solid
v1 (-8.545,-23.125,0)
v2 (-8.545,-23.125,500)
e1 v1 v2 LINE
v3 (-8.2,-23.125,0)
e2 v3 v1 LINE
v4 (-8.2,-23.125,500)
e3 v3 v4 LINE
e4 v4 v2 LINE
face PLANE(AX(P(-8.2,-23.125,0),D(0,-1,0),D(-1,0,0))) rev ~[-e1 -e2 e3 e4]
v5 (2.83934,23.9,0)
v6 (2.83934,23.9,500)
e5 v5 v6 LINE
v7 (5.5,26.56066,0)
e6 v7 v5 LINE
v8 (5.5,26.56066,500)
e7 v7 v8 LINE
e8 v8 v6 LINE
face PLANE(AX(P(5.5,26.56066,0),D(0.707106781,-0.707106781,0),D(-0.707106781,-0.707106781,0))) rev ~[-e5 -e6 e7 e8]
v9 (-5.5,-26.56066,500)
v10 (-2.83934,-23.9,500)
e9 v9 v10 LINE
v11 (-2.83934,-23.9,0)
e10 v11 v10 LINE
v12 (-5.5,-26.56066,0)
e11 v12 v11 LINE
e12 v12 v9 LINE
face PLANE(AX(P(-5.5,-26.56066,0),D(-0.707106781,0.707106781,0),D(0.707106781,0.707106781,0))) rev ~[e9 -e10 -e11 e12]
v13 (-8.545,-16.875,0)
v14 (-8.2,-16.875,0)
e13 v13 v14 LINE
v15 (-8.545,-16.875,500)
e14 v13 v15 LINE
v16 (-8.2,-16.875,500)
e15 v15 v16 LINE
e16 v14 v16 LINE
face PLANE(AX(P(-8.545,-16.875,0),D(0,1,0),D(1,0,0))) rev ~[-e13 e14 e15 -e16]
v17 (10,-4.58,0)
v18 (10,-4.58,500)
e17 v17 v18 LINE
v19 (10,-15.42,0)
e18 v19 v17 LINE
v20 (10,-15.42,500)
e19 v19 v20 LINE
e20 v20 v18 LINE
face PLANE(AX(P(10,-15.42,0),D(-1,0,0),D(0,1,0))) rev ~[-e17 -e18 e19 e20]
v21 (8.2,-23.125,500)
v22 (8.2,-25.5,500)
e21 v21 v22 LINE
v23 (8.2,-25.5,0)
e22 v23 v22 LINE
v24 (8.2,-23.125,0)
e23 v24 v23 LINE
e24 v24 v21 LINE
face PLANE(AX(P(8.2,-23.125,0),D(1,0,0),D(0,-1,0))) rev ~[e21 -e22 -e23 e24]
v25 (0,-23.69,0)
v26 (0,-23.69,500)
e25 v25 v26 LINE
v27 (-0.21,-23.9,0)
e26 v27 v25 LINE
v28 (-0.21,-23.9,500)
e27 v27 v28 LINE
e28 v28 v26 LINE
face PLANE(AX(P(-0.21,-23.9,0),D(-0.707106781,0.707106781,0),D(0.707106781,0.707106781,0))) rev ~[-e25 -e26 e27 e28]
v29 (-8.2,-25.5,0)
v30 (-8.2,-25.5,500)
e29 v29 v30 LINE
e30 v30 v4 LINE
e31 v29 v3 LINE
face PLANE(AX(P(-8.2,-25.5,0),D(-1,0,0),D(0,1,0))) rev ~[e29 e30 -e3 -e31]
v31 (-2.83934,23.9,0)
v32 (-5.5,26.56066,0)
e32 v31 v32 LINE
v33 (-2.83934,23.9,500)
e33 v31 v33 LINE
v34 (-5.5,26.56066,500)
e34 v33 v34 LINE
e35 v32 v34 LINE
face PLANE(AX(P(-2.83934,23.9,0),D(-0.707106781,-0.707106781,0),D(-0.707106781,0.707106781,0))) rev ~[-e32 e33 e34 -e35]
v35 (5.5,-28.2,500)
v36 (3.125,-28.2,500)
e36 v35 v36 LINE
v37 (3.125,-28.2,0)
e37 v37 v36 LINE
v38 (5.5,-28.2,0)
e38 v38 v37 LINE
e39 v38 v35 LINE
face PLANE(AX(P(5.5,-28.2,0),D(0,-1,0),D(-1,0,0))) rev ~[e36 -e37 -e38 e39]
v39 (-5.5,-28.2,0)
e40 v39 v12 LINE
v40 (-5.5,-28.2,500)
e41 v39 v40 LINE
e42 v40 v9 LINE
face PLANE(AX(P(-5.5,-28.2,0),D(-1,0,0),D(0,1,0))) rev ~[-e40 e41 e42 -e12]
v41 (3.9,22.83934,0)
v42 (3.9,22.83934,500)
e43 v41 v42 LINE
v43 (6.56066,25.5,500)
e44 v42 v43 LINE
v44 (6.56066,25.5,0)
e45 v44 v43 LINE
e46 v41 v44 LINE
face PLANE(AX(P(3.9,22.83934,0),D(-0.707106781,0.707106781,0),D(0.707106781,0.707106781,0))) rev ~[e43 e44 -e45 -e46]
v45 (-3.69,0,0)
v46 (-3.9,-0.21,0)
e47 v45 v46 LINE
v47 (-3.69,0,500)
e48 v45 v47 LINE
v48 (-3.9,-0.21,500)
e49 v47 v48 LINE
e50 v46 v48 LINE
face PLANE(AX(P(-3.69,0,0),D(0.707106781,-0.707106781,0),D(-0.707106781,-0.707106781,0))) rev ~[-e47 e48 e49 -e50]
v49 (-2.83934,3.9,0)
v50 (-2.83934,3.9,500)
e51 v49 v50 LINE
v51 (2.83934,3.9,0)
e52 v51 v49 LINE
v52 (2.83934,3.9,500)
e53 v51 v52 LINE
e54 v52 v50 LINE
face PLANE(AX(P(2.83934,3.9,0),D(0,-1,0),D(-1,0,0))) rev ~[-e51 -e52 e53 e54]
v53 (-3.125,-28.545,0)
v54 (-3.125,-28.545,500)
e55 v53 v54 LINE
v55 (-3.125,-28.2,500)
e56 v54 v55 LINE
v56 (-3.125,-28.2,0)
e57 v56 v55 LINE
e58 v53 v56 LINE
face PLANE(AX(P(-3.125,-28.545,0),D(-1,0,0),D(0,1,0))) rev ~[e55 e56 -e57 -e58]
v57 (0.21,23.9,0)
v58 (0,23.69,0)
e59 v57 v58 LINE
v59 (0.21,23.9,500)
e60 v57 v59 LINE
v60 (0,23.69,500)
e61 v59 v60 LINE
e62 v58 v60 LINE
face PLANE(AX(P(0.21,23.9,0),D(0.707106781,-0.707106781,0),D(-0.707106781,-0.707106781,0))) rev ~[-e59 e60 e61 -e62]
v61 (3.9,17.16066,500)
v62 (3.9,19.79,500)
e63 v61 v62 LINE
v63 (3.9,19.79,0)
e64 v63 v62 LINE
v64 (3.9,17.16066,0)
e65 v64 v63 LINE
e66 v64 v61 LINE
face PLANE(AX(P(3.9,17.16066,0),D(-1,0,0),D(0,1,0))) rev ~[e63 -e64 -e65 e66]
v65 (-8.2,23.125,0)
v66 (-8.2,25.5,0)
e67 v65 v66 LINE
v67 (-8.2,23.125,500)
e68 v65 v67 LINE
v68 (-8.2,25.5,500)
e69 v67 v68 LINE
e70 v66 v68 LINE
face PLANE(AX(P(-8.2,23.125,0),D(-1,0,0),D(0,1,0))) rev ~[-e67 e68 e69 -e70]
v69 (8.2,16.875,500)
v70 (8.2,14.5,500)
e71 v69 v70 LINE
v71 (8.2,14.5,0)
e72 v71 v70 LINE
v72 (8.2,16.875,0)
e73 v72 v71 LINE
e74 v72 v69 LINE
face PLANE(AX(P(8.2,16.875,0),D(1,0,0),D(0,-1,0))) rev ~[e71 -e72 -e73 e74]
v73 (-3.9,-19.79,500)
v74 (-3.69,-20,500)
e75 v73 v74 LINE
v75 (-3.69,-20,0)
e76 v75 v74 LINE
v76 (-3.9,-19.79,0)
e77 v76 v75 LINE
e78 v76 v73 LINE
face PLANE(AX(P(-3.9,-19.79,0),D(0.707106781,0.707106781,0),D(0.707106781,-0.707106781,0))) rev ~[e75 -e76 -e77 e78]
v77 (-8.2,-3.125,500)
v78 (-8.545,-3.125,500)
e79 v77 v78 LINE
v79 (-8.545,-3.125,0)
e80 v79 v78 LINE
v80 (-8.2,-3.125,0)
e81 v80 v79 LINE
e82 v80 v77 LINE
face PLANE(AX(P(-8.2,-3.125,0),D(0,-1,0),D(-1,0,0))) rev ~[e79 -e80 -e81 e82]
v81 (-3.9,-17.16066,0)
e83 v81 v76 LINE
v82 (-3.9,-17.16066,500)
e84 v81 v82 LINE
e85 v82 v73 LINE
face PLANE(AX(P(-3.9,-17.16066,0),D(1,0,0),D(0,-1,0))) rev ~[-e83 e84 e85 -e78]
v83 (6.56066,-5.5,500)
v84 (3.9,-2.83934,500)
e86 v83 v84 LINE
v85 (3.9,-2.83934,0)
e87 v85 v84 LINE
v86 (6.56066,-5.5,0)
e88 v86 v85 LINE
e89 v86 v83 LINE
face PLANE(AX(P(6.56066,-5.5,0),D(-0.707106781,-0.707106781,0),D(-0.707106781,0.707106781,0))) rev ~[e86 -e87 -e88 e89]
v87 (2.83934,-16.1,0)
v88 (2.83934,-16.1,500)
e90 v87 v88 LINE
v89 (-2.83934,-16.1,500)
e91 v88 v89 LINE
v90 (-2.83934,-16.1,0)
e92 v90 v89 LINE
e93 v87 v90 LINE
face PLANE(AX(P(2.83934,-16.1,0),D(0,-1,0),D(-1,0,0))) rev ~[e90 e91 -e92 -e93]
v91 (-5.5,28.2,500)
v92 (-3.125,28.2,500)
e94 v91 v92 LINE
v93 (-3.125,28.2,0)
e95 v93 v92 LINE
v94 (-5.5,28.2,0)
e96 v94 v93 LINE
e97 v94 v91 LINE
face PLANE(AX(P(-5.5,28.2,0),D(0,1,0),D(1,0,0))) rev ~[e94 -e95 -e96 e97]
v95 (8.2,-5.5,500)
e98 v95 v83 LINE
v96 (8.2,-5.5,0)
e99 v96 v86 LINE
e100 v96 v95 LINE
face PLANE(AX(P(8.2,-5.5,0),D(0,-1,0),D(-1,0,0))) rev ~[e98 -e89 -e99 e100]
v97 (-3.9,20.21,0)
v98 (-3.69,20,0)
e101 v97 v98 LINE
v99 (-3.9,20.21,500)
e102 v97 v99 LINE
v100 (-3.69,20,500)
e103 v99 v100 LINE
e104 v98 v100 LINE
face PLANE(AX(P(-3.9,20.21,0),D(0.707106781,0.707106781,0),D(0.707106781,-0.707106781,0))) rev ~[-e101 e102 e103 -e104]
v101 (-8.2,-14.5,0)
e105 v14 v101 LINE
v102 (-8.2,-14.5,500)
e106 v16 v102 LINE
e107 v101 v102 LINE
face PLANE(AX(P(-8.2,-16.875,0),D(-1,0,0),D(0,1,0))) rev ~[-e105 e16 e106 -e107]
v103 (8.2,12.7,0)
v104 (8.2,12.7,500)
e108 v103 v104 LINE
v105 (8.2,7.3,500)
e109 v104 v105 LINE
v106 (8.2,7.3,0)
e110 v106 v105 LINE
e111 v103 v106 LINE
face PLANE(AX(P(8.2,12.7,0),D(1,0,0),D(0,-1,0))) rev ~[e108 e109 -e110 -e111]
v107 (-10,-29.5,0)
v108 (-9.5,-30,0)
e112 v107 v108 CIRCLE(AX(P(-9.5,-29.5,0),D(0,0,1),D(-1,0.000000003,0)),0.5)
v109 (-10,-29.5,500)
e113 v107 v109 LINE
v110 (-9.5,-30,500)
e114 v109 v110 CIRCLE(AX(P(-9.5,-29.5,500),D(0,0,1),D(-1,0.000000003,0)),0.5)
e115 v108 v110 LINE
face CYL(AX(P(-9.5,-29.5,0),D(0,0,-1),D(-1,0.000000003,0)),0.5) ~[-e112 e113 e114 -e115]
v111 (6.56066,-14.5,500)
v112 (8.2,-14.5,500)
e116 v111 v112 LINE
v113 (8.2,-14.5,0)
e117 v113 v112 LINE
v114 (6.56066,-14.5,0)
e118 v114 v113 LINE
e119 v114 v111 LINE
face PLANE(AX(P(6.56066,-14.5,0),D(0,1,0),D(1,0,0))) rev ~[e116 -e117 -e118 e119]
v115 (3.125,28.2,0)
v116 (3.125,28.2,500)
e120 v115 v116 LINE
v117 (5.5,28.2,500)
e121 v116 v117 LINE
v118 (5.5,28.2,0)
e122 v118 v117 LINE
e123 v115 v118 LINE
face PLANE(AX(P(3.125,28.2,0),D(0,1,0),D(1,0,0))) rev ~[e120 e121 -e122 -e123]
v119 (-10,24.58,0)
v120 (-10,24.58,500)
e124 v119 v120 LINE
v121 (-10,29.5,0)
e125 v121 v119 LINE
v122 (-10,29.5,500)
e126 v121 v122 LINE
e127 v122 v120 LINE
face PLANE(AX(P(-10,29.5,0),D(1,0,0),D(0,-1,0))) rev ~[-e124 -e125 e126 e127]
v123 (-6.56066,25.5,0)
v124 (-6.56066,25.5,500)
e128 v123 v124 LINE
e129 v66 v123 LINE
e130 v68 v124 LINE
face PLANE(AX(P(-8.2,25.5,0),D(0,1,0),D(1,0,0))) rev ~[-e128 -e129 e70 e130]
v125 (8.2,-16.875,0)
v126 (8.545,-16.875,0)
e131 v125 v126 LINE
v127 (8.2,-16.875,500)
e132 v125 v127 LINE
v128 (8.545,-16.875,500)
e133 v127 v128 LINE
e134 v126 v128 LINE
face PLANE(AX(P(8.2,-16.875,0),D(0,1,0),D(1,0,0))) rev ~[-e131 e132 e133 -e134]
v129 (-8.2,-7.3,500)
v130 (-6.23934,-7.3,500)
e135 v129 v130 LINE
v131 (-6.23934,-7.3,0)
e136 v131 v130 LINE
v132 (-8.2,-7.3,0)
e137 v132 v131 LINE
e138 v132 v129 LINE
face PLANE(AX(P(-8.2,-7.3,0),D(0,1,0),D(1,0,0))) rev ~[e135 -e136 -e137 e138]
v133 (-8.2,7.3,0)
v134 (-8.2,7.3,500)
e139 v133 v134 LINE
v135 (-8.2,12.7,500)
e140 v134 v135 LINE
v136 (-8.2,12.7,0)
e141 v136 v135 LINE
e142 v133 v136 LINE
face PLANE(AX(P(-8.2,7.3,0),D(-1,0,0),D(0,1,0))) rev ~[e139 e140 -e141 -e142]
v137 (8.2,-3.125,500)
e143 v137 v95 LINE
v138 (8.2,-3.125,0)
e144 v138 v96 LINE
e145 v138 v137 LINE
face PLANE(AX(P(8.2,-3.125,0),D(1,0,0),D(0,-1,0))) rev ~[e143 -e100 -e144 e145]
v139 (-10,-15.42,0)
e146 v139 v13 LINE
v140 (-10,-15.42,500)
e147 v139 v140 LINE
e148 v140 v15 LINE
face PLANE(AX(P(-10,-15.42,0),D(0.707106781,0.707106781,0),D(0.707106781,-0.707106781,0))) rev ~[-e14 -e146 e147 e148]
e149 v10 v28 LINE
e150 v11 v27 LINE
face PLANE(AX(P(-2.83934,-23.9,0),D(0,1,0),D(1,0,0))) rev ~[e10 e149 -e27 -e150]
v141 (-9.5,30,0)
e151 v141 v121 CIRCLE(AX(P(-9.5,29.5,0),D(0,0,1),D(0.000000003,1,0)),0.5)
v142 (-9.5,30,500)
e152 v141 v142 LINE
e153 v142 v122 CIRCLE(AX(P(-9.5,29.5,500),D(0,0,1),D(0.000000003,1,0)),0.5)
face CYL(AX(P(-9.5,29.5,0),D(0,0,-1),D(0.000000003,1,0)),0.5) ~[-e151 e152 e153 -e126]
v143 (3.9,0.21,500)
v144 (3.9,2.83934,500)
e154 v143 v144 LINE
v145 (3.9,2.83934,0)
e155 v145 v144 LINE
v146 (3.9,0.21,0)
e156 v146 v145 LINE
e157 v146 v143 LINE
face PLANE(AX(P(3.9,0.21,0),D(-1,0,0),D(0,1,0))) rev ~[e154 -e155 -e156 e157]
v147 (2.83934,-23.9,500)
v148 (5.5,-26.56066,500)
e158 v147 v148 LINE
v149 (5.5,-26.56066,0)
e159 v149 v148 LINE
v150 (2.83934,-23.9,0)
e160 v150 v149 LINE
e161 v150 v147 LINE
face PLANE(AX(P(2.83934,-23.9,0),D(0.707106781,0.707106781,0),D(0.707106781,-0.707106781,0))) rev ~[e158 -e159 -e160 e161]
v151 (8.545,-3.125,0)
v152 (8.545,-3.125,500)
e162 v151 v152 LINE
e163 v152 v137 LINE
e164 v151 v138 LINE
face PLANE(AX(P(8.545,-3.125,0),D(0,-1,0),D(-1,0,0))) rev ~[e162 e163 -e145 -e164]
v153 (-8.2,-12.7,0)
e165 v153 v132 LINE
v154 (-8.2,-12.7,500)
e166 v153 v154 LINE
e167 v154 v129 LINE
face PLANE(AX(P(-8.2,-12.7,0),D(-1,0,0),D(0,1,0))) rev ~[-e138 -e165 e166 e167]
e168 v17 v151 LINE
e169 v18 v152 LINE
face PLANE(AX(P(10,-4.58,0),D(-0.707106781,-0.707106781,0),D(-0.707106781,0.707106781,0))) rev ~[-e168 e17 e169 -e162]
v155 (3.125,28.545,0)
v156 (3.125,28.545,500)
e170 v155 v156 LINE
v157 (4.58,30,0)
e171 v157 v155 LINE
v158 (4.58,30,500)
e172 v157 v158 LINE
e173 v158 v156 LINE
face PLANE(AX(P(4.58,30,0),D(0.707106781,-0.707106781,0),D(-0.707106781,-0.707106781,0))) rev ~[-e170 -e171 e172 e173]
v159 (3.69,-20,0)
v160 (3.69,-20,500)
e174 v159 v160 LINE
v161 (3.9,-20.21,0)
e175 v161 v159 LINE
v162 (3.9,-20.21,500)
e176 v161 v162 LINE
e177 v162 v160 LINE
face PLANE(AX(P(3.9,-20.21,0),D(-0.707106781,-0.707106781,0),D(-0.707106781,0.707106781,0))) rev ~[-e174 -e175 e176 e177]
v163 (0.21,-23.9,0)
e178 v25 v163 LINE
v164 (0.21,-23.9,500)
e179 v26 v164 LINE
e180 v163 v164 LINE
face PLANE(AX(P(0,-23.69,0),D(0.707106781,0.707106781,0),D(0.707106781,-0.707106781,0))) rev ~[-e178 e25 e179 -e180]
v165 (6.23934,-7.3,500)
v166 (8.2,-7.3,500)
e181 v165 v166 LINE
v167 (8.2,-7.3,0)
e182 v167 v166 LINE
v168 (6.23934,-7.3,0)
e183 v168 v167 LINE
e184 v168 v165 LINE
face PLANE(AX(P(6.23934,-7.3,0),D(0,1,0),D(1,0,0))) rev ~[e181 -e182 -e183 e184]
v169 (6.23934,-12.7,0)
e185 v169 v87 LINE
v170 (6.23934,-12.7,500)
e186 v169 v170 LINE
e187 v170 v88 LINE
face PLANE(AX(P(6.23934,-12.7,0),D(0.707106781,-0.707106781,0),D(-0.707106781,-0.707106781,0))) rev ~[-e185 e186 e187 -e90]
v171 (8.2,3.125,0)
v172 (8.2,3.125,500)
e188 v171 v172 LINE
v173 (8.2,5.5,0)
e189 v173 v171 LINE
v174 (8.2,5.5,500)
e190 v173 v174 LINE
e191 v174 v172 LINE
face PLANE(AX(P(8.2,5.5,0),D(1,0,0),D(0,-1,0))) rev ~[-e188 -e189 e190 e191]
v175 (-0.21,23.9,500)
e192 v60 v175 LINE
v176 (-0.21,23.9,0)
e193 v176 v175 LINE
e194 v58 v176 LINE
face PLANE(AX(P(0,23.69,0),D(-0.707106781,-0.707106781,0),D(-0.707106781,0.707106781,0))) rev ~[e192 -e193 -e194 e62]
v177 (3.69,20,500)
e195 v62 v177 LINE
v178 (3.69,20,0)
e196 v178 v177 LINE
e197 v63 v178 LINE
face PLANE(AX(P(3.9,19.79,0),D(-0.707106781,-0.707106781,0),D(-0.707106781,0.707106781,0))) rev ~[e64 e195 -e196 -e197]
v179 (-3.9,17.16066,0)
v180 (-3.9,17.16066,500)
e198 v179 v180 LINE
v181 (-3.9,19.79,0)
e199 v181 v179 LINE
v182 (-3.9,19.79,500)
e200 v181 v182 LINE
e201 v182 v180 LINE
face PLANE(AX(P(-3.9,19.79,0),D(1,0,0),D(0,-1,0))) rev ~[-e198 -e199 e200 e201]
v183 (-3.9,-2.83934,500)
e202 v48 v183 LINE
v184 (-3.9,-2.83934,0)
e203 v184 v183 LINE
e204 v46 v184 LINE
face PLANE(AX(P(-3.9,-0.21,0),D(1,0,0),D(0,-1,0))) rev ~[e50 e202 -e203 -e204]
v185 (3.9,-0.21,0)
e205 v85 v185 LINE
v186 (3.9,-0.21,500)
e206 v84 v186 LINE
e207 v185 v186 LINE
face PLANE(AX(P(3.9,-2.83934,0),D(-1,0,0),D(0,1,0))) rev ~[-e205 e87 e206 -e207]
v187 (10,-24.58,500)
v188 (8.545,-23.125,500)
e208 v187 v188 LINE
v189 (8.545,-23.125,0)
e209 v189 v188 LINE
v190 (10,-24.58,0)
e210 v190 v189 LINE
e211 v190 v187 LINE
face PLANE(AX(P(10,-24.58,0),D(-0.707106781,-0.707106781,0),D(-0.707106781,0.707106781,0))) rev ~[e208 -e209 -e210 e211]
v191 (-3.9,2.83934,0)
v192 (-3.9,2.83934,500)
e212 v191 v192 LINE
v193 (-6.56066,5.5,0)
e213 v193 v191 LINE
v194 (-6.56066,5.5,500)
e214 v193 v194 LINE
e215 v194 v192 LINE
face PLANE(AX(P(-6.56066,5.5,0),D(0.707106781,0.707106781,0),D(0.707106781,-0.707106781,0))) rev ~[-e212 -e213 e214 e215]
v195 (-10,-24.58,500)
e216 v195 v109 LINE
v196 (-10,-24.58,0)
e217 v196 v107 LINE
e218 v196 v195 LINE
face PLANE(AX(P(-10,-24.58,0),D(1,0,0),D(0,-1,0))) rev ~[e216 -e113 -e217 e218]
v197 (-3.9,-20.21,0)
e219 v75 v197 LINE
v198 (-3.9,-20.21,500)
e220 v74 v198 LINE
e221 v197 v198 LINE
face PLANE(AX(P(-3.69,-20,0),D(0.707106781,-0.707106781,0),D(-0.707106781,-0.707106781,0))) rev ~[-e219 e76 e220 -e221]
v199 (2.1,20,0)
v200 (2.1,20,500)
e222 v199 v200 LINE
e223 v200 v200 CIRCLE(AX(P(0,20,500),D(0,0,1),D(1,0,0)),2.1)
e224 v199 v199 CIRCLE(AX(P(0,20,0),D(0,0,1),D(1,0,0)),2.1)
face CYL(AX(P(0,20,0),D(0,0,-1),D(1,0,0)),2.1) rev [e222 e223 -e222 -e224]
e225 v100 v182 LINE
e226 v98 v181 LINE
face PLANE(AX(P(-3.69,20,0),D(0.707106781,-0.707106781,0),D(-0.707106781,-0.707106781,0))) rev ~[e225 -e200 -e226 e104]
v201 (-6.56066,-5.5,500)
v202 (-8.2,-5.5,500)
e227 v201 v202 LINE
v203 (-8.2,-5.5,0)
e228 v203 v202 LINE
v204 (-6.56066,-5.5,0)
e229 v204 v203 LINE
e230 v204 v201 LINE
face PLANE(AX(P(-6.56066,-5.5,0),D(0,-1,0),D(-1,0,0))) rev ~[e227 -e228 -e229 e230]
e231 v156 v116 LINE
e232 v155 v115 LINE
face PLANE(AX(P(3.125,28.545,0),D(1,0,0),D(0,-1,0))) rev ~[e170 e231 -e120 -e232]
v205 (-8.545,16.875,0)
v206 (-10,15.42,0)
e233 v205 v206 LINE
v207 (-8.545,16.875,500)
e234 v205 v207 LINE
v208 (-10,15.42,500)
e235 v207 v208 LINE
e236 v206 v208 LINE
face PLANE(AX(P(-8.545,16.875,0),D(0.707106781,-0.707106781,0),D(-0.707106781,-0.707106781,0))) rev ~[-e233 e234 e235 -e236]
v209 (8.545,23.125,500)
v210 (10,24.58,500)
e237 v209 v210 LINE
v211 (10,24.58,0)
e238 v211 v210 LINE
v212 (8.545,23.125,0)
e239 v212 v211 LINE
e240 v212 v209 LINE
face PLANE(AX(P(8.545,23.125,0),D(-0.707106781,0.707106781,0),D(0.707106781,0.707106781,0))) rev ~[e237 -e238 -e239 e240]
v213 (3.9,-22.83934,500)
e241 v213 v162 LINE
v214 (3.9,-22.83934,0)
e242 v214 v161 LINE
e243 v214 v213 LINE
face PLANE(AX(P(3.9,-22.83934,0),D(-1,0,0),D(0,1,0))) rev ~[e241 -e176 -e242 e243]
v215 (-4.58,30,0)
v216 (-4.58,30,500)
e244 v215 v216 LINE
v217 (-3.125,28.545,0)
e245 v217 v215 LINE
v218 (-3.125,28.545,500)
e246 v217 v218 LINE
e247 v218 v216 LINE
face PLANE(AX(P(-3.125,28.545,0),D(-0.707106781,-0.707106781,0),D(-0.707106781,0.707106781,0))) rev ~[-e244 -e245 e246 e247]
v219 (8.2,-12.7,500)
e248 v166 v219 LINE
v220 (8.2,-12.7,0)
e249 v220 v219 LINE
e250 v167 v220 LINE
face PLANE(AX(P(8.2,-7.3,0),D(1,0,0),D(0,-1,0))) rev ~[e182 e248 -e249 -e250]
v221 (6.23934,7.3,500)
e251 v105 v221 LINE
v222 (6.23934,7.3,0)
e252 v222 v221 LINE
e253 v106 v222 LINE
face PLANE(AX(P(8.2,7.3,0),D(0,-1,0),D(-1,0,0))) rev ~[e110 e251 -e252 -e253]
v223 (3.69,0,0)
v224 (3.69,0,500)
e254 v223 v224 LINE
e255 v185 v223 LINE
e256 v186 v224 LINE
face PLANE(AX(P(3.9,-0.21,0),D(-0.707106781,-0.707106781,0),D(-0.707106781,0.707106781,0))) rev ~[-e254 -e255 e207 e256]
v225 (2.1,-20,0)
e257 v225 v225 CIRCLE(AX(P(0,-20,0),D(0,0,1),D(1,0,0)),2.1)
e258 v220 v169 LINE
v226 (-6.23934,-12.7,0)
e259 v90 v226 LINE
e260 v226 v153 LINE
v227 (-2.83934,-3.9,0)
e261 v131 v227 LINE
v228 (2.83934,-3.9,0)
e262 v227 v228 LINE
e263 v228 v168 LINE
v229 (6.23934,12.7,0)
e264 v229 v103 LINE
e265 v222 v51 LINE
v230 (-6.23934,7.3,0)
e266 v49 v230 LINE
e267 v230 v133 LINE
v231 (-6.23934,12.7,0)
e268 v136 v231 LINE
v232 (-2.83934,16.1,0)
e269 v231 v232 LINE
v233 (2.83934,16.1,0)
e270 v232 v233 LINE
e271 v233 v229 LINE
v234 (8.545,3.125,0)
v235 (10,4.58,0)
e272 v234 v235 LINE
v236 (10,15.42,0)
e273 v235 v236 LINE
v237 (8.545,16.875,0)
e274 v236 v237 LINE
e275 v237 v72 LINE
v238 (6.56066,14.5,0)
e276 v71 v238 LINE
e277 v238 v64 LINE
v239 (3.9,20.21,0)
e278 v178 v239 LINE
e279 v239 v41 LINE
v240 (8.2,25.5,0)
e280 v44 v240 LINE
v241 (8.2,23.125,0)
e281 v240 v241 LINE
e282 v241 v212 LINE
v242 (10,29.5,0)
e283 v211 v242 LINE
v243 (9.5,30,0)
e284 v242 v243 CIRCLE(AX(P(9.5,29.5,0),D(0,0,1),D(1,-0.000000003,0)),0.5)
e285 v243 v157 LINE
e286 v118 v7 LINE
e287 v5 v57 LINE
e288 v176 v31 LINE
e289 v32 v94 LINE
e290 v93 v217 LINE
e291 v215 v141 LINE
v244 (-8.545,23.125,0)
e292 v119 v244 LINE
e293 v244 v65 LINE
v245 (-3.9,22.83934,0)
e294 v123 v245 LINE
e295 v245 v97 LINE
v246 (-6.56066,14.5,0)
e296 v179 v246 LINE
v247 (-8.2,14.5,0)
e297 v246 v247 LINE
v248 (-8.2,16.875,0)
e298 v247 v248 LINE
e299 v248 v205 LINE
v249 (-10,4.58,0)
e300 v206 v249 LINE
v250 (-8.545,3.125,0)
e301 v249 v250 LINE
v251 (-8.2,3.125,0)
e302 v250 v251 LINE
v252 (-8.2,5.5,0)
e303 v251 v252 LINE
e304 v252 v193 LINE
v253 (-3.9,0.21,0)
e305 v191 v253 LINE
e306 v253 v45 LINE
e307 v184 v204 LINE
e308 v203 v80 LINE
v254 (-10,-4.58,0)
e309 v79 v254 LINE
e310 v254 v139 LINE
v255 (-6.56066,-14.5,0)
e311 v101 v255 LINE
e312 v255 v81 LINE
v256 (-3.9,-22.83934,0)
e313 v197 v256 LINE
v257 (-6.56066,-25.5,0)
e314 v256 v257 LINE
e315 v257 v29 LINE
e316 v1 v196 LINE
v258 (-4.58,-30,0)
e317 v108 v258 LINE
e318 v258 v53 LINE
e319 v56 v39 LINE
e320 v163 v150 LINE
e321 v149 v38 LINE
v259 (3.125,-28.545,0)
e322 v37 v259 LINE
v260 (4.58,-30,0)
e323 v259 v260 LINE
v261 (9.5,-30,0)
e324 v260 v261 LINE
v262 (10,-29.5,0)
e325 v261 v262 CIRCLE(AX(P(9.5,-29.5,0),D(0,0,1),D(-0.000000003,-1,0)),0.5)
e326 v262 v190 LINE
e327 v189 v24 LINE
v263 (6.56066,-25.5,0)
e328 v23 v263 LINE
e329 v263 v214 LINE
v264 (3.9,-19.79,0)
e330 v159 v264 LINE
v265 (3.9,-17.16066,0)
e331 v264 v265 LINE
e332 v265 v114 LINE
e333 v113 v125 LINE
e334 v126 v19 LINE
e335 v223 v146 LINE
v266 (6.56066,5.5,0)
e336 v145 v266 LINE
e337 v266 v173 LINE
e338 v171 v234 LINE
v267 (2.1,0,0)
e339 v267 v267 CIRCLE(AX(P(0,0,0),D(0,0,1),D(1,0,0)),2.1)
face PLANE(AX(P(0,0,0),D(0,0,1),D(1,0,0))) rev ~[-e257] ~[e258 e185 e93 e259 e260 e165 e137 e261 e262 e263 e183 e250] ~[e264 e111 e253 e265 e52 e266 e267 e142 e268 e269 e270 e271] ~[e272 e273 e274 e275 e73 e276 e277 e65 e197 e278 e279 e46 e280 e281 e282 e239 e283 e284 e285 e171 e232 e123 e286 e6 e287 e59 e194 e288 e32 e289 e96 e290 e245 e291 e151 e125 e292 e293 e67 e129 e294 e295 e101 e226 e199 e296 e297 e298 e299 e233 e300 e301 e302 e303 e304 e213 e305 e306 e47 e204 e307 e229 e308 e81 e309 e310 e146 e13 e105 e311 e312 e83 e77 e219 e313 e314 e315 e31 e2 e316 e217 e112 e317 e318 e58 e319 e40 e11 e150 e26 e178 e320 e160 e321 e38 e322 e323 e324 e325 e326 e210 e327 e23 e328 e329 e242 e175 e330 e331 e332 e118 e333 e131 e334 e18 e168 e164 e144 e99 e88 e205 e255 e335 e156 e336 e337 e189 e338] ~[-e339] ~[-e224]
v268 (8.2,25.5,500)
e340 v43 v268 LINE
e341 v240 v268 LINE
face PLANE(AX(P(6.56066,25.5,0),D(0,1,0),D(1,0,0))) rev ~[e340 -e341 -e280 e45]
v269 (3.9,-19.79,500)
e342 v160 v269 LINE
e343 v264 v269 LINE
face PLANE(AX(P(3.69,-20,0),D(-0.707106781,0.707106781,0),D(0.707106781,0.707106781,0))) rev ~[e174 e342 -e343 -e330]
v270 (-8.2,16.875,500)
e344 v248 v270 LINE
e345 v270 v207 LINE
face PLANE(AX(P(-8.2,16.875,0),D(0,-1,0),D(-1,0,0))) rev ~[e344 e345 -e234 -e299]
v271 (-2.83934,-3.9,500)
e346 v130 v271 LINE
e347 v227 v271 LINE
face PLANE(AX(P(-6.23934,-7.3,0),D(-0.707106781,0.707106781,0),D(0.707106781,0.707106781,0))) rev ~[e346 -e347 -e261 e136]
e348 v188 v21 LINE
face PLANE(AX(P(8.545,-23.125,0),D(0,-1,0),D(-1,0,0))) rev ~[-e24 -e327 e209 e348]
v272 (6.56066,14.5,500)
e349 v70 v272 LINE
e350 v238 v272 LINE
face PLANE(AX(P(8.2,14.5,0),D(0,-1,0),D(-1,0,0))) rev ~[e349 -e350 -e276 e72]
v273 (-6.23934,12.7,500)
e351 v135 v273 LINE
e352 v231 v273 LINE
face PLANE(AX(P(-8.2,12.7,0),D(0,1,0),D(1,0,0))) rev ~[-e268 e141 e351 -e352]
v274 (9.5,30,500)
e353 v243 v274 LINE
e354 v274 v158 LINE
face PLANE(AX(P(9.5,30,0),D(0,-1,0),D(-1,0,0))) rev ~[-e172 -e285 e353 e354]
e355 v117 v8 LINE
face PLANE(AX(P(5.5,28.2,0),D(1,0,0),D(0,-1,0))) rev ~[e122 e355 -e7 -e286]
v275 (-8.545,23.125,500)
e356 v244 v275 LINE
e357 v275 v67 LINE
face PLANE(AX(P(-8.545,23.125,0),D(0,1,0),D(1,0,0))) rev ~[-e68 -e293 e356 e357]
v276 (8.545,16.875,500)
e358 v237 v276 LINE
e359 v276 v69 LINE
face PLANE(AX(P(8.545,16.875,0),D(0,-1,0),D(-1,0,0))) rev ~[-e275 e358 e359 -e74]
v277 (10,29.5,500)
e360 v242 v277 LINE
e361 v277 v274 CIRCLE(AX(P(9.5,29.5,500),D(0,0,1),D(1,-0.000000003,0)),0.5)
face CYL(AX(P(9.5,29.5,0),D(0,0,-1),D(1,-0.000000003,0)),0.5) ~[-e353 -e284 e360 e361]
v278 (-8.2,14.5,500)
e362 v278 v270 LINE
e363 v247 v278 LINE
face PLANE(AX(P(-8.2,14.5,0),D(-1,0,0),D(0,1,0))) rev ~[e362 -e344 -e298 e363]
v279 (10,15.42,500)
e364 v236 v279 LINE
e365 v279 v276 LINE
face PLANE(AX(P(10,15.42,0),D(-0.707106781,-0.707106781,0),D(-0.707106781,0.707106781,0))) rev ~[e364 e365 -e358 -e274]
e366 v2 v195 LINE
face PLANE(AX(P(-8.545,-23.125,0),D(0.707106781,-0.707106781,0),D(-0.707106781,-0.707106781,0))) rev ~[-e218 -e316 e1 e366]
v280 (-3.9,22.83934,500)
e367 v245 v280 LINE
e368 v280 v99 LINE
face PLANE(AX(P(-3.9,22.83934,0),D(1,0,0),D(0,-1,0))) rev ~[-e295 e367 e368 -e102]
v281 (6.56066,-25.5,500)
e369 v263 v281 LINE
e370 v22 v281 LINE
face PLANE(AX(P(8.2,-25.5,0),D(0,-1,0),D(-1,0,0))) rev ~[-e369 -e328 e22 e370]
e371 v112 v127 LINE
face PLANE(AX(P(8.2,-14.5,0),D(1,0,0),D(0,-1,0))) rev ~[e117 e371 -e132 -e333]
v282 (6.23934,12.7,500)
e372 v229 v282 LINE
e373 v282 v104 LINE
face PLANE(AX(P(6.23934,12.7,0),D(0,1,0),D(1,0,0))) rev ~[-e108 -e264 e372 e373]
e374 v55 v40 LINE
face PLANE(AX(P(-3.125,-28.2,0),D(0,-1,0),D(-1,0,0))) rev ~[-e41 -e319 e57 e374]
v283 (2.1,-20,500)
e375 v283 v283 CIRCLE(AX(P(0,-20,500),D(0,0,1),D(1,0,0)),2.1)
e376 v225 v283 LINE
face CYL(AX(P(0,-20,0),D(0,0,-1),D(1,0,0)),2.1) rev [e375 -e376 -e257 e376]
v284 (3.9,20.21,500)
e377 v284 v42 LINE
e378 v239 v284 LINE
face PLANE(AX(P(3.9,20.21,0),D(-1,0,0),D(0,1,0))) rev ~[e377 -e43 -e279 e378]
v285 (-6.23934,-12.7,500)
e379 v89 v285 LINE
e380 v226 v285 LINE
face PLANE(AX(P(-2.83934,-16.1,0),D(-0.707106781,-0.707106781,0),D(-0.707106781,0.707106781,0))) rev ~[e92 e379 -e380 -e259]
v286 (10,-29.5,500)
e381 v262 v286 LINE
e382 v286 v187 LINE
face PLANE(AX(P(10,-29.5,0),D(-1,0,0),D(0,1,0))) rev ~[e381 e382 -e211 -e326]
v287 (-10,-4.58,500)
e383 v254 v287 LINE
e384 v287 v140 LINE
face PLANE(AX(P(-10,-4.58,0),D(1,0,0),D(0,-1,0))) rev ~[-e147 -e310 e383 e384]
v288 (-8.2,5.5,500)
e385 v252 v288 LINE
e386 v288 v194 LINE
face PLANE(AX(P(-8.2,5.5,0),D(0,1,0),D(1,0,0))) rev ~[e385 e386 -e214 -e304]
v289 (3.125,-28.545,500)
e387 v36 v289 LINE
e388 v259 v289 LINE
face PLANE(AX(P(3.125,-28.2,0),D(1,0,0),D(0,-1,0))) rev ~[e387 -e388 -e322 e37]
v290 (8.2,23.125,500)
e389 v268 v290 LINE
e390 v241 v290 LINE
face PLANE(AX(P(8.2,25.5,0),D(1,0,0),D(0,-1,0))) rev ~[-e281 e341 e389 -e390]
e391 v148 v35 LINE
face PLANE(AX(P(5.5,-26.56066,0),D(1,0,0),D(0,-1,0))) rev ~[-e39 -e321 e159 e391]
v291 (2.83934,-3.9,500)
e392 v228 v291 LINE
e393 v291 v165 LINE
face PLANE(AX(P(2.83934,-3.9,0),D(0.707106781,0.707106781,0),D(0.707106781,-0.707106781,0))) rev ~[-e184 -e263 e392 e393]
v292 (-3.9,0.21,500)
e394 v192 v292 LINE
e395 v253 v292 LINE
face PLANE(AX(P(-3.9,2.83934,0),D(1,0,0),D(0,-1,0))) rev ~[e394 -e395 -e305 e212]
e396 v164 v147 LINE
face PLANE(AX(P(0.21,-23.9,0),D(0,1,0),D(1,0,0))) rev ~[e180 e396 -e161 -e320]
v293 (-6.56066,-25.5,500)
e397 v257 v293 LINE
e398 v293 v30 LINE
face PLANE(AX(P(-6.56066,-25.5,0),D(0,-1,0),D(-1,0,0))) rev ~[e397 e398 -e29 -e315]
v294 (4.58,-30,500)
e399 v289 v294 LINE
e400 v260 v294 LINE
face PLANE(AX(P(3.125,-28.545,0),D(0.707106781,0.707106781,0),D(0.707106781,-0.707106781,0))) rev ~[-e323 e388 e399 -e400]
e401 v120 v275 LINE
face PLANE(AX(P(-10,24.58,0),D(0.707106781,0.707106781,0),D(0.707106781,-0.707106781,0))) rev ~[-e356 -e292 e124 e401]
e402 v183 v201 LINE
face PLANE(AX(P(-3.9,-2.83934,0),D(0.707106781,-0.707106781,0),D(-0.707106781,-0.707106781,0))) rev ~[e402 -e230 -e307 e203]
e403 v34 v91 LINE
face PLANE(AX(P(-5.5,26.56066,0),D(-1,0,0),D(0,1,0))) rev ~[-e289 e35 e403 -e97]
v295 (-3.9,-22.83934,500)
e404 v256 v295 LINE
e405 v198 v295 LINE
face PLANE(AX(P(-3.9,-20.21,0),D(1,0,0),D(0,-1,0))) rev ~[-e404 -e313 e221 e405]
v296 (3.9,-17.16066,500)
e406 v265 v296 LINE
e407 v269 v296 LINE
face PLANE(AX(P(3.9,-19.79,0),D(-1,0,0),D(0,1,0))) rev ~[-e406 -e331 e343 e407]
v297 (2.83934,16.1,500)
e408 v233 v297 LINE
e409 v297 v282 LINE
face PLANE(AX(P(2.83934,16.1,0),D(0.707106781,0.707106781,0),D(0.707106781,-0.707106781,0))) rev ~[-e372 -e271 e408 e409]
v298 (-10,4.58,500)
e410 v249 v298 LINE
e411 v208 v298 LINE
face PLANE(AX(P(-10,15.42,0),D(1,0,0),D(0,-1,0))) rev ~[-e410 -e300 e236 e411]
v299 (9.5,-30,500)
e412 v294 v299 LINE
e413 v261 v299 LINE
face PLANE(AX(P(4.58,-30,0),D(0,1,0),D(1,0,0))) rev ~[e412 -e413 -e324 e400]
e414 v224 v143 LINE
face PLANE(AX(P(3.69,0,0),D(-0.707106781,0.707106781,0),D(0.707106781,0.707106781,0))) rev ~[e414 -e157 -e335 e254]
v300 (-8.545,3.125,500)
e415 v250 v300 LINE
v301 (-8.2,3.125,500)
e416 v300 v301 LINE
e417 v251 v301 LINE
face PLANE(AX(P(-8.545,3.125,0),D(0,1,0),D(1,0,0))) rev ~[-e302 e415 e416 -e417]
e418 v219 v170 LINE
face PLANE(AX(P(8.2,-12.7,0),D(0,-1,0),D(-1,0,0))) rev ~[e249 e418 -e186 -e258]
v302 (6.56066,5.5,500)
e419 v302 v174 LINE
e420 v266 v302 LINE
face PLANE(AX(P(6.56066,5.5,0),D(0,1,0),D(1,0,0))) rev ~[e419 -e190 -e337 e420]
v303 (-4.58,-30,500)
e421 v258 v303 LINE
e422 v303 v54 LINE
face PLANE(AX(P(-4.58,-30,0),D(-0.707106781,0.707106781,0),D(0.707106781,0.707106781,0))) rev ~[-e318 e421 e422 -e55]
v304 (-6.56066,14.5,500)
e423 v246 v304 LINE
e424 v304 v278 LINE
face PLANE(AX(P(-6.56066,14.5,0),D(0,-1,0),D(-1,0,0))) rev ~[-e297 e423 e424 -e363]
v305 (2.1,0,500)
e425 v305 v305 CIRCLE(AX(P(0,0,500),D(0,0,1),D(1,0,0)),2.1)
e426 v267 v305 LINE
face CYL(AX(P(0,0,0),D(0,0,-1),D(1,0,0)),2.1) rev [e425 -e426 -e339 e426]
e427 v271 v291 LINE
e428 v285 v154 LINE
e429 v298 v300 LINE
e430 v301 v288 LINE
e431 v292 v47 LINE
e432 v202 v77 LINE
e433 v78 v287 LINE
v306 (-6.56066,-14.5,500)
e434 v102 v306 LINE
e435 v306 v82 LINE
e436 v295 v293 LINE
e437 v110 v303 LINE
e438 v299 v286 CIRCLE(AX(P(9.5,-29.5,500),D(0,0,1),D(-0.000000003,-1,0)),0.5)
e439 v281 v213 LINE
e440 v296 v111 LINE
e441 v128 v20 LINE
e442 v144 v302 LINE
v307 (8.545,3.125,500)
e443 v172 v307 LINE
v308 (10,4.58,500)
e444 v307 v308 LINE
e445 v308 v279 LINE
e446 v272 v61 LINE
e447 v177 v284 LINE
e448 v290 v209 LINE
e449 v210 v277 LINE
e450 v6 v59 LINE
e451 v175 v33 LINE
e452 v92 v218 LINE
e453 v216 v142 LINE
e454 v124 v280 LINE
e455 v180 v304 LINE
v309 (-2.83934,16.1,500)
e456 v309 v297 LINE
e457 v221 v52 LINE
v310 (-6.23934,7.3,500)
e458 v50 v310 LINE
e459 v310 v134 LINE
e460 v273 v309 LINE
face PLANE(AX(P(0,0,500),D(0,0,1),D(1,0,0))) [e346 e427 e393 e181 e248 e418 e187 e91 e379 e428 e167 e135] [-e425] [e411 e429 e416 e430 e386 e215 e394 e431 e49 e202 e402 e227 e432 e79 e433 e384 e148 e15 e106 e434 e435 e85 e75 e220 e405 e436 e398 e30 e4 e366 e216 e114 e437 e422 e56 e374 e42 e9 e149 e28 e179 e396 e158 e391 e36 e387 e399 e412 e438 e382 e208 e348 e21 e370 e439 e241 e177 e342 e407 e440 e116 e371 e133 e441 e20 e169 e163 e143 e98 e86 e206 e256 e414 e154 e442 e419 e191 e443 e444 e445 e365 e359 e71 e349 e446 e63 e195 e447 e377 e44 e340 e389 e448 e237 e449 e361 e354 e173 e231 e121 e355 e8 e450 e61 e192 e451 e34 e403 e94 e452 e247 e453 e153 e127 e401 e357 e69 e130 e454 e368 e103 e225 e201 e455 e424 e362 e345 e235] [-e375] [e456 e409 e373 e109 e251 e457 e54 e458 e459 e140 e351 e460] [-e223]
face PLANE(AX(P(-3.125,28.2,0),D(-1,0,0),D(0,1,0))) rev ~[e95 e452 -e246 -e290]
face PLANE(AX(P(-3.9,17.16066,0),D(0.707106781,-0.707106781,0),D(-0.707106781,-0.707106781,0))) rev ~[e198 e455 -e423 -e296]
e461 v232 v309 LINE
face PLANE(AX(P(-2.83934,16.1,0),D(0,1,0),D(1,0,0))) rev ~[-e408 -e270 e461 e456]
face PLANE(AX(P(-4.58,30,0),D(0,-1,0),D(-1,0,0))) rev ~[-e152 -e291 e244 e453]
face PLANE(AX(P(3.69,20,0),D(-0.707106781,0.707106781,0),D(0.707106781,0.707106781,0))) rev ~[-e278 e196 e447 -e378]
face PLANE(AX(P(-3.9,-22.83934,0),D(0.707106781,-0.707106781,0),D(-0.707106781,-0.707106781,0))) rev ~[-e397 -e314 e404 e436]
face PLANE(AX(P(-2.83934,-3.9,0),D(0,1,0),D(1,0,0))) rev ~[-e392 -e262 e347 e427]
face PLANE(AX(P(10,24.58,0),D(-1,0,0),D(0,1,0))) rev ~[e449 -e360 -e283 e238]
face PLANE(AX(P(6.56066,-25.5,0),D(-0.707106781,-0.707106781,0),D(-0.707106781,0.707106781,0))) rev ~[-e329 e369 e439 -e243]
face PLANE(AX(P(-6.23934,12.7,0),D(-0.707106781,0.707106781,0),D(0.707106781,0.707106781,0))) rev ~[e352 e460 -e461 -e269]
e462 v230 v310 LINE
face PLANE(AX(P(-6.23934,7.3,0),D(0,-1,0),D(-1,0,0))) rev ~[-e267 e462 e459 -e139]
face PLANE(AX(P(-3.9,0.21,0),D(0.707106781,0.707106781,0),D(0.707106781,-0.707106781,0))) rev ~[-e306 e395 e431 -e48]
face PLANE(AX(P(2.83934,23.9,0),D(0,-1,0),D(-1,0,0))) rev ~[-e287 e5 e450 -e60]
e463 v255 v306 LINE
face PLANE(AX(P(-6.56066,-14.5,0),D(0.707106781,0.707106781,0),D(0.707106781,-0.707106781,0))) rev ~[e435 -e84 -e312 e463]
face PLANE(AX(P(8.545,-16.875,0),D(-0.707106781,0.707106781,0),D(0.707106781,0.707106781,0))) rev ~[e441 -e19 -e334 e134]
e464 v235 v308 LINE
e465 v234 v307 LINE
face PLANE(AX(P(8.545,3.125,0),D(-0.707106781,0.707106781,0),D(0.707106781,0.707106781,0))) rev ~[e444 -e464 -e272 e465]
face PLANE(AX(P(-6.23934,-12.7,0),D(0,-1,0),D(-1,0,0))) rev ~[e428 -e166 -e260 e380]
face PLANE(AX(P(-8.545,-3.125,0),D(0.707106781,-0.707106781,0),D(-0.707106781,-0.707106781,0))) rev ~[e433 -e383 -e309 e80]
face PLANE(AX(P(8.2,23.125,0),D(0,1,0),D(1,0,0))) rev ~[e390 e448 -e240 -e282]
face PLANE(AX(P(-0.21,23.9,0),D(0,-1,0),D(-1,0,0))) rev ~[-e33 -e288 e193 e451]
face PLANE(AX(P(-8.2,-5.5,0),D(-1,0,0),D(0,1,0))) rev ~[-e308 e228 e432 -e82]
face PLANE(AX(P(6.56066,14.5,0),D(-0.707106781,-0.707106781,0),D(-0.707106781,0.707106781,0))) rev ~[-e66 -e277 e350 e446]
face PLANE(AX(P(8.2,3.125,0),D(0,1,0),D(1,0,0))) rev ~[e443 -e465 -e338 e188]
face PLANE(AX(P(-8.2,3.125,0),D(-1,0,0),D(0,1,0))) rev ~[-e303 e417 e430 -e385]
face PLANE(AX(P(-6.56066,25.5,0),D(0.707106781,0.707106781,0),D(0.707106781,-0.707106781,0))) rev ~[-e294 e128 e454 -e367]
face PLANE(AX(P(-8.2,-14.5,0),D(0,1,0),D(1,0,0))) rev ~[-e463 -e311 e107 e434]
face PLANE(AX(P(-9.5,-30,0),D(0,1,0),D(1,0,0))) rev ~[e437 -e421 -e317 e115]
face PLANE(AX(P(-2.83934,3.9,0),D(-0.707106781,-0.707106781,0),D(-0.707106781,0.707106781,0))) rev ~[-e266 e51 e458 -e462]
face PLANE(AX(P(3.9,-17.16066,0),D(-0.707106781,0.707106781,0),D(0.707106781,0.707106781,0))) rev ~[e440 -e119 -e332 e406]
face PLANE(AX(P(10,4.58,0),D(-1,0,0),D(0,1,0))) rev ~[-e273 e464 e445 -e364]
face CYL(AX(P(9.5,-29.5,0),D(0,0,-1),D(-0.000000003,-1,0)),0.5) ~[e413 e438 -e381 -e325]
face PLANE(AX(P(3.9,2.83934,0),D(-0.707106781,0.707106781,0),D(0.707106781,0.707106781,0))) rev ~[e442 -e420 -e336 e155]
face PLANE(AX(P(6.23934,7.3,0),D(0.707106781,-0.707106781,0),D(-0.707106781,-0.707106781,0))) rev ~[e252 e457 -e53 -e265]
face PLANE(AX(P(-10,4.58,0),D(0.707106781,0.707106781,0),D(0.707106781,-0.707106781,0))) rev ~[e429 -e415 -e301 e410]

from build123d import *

# Parameters (mm, degrees)
SKETCH1_R           = 2.1
BOSS_EXTRUDE1_DEPTH = 500


with BuildPart() as part:
    # Sketch1 → Boss-Extrude1 (new body)
    with BuildSketch(Plane.XY):
        with BuildLine():
            Line((4.58, -30), (9.5, -30))
            ThreePointArc((9.5, -30), (9.853553391, -29.853553391), (10, -29.5))
            Line((10, -29.5), (10, -24.58))
            Line((10, -24.58), (8.545, -23.125))
            Line((8.545, -23.125), (8.2, -23.125))
            Line((8.2, -23.125), (8.2, -25.5))
            Line((8.2, -25.5), (6.560660172, -25.5))
            Line((6.560660172, -25.5), (3.9, -22.839339828))
            Line((3.9, -22.839339828), (3.9, -20.21))
            Line((3.9, -20.21), (3.69, -20))
            Line((3.69, -20), (3.9, -19.79))
            Line((3.9, -19.79), (3.9, -17.160660172))
            Line((3.9, -17.160660172), (6.560660172, -14.5))
            Line((6.560660172, -14.5), (8.2, -14.5))
            Line((8.2, -14.5), (8.2, -16.875))
            Line((8.2, -16.875), (8.545, -16.875))
            Line((8.545, -16.875), (10, -15.42))
            Line((10, -15.42), (10, -4.58))
            Line((10, -4.58), (8.545, -3.125))
            Line((8.545, -3.125), (8.2, -3.125))
            Line((8.2, -3.125), (8.2, -5.5))
            Line((8.2, -5.5), (6.560660172, -5.5))
            Line((6.560660172, -5.5), (3.9, -2.839339828))
            Line((3.9, -2.839339828), (3.9, -0.21))
            Line((3.9, -0.21), (3.69, 0))
            Line((3.69, 0), (3.9, 0.21))
            Line((3.9, 0.21), (3.9, 2.839339828))
            Line((3.9, 2.839339828), (6.560660172, 5.5))
            Line((6.560660172, 5.5), (8.2, 5.5))
            Line((8.2, 5.5), (8.2, 3.125))
            Line((8.2, 3.125), (8.545, 3.125))
            Line((8.545, 3.125), (10, 4.58))
            Line((10, 4.58), (10, 15.42))
            Line((10, 15.42), (8.545, 16.875))
            Line((8.545, 16.875), (8.2, 16.875))
            Line((8.2, 16.875), (8.2, 14.5))
            Line((8.2, 14.5), (6.560660172, 14.5))
            Line((6.560660172, 14.5), (3.9, 17.160660172))
            Line((3.9, 17.160660172), (3.9, 19.79))
            Line((3.9, 19.79), (3.69, 20))
            Line((3.69, 20), (3.9, 20.21))
            Line((3.9, 20.21), (3.9, 22.839339828))
            Line((3.9, 22.839339828), (6.560660172, 25.5))
            Line((6.560660172, 25.5), (8.2, 25.5))
            Line((8.2, 25.5), (8.2, 23.125))
            Line((8.2, 23.125), (8.545, 23.125))
            Line((8.545, 23.125), (10, 24.58))
            Line((10, 24.58), (10, 29.5))
            ThreePointArc((10, 29.5), (9.853553391, 29.853553391), (9.5, 30))
            Line((9.5, 30), (4.58, 30))
            Line((4.58, 30), (3.125, 28.545))
            Line((3.125, 28.545), (3.125, 28.2))
            Line((3.125, 28.2), (5.5, 28.2))
            Line((5.5, 28.2), (5.5, 26.560660172))
            Line((5.5, 26.560660172), (2.839339828, 23.9))
            Line((2.839339828, 23.9), (0.21, 23.9))
            Line((0.21, 23.9), (0, 23.69))
            Line((0, 23.69), (-0.21, 23.9))
            Line((-0.21, 23.9), (-2.839339828, 23.9))
            Line((-2.839339828, 23.9), (-5.5, 26.560660172))
            Line((-5.5, 26.560660172), (-5.5, 28.2))
            Line((-5.5, 28.2), (-3.125, 28.2))
            Line((-3.125, 28.2), (-3.125, 28.545))
            Line((-3.125, 28.545), (-4.58, 30))
            Line((-4.58, 30), (-9.5, 30))
            ThreePointArc((-9.5, 30), (-9.853553391, 29.853553391), (-10, 29.5))
            Line((-10, 29.5), (-10, 24.58))
            Line((-10, 24.58), (-8.545, 23.125))
            Line((-8.545, 23.125), (-8.2, 23.125))
            Line((-8.2, 23.125), (-8.2, 25.5))
            Line((-8.2, 25.5), (-6.560660172, 25.5))
            Line((-6.560660172, 25.5), (-3.9, 22.839339828))
            Line((-3.9, 22.839339828), (-3.9, 20.21))
            Line((-3.9, 20.21), (-3.69, 20))
            Line((-3.69, 20), (-3.9, 19.79))
            Line((-3.9, 19.79), (-3.9, 17.160660172))
            Line((-3.9, 17.160660172), (-6.560660172, 14.5))
            Line((-6.560660172, 14.5), (-8.2, 14.5))
            Line((-8.2, 14.5), (-8.2, 16.875))
            Line((-8.2, 16.875), (-8.545, 16.875))
            Line((-8.545, 16.875), (-10, 15.42))
            Line((-10, 15.42), (-10, 4.58))
            Line((-10, 4.58), (-8.545, 3.125))
            Line((-8.545, 3.125), (-8.2, 3.125))
            Line((-8.2, 3.125), (-8.2, 5.5))
            Line((-8.2, 5.5), (-6.560660172, 5.5))
            Line((-6.560660172, 5.5), (-3.9, 2.839339828))
            Line((-3.9, 2.839339828), (-3.9, 0.21))
            Line((-3.9, 0.21), (-3.69, 0))
            Line((-3.69, 0), (-3.9, -0.21))
            Line((-3.9, -0.21), (-3.9, -2.839339828))
            Line((-3.9, -2.839339828), (-6.560660172, -5.5))
            Line((-6.560660172, -5.5), (-8.2, -5.5))
            Line((-8.2, -5.5), (-8.2, -3.125))
            Line((-8.2, -3.125), (-8.545, -3.125))
            Line((-8.545, -3.125), (-10, -4.58))
            Line((-10, -4.58), (-10, -15.42))
            Line((-10, -15.42), (-8.545, -16.875))
            Line((-8.545, -16.875), (-8.2, -16.875))
            Line((-8.2, -16.875), (-8.2, -14.5))
            Line((-8.2, -14.5), (-6.560660172, -14.5))
            Line((-6.560660172, -14.5), (-3.9, -17.160660172))
            Line((-3.9, -17.160660172), (-3.9, -19.79))
            Line((-3.9, -19.79), (-3.69, -20))
            Line((-3.69, -20), (-3.9, -20.21))
            Line((-3.9, -20.21), (-3.9, -22.839339828))
            Line((-3.9, -22.839339828), (-6.560660172, -25.5))
            Line((-6.560660172, -25.5), (-8.2, -25.5))
            Line((-8.2, -25.5), (-8.2, -23.125))
            Line((-8.2, -23.125), (-8.545, -23.125))
            Line((-8.545, -23.125), (-10, -24.58))
            Line((-10, -24.58), (-10, -29.5))
            ThreePointArc((-10, -29.5), (-9.853553391, -29.853553391), (-9.5, -30))
            Line((-9.5, -30), (-4.58, -30))
            Line((-4.58, -30), (-3.125, -28.545))
            Line((-3.125, -28.545), (-3.125, -28.2))
            Line((-3.125, -28.2), (-5.5, -28.2))
            Line((-5.5, -28.2), (-5.5, -26.560660172))
            Line((-5.5, -26.560660172), (-2.839339828, -23.9))
            Line((-2.839339828, -23.9), (-0.21, -23.9))
            Line((-0.21, -23.9), (0, -23.69))
            Line((0, -23.69), (0.21, -23.9))
            Line((0.21, -23.9), (2.839339828, -23.9))
            Line((2.839339828, -23.9), (5.5, -26.560660172))
            Line((5.5, -26.560660172), (5.5, -28.2))
            Line((5.5, -28.2), (3.125, -28.2))
            Line((3.125, -28.2), (3.125, -28.545))
            Line((3.125, -28.545), (4.58, -30))
        make_face()
        with Locations((0, -20)):
            Circle(SKETCH1_R, mode=Mode.SUBTRACT)
        Polygon((-6.239339828, -12.7), (-8.2, -12.7), (-8.2, -7.3), (-6.239339828, -7.3), (-2.839339828, -3.9), (2.839339828, -3.9), (6.239339828, -7.3), (8.2, -7.3), (8.2, -12.7), (6.239339828, -12.7), (2.839339828, -16.1), (-2.839339828, -16.1), align=None, mode=Mode.SUBTRACT)
        Polygon((-6.239339828, 7.3), (-8.2, 7.3), (-8.2, 12.7), (-6.239339828, 12.7), (-2.839339828, 16.1), (2.839339828, 16.1), (6.239339828, 12.7), (8.2, 12.7), (8.2, 7.3), (6.239339828, 7.3), (2.839339828, 3.9), (-2.839339828, 3.9), align=None, mode=Mode.SUBTRACT)
        with Locations((0, 20)):
            Circle(SKETCH1_R, mode=Mode.SUBTRACT)
        Circle(SKETCH1_R, mode=Mode.SUBTRACT)
    extrude(amount=BOSS_EXTRUDE1_DEPTH)


solid = part.part
